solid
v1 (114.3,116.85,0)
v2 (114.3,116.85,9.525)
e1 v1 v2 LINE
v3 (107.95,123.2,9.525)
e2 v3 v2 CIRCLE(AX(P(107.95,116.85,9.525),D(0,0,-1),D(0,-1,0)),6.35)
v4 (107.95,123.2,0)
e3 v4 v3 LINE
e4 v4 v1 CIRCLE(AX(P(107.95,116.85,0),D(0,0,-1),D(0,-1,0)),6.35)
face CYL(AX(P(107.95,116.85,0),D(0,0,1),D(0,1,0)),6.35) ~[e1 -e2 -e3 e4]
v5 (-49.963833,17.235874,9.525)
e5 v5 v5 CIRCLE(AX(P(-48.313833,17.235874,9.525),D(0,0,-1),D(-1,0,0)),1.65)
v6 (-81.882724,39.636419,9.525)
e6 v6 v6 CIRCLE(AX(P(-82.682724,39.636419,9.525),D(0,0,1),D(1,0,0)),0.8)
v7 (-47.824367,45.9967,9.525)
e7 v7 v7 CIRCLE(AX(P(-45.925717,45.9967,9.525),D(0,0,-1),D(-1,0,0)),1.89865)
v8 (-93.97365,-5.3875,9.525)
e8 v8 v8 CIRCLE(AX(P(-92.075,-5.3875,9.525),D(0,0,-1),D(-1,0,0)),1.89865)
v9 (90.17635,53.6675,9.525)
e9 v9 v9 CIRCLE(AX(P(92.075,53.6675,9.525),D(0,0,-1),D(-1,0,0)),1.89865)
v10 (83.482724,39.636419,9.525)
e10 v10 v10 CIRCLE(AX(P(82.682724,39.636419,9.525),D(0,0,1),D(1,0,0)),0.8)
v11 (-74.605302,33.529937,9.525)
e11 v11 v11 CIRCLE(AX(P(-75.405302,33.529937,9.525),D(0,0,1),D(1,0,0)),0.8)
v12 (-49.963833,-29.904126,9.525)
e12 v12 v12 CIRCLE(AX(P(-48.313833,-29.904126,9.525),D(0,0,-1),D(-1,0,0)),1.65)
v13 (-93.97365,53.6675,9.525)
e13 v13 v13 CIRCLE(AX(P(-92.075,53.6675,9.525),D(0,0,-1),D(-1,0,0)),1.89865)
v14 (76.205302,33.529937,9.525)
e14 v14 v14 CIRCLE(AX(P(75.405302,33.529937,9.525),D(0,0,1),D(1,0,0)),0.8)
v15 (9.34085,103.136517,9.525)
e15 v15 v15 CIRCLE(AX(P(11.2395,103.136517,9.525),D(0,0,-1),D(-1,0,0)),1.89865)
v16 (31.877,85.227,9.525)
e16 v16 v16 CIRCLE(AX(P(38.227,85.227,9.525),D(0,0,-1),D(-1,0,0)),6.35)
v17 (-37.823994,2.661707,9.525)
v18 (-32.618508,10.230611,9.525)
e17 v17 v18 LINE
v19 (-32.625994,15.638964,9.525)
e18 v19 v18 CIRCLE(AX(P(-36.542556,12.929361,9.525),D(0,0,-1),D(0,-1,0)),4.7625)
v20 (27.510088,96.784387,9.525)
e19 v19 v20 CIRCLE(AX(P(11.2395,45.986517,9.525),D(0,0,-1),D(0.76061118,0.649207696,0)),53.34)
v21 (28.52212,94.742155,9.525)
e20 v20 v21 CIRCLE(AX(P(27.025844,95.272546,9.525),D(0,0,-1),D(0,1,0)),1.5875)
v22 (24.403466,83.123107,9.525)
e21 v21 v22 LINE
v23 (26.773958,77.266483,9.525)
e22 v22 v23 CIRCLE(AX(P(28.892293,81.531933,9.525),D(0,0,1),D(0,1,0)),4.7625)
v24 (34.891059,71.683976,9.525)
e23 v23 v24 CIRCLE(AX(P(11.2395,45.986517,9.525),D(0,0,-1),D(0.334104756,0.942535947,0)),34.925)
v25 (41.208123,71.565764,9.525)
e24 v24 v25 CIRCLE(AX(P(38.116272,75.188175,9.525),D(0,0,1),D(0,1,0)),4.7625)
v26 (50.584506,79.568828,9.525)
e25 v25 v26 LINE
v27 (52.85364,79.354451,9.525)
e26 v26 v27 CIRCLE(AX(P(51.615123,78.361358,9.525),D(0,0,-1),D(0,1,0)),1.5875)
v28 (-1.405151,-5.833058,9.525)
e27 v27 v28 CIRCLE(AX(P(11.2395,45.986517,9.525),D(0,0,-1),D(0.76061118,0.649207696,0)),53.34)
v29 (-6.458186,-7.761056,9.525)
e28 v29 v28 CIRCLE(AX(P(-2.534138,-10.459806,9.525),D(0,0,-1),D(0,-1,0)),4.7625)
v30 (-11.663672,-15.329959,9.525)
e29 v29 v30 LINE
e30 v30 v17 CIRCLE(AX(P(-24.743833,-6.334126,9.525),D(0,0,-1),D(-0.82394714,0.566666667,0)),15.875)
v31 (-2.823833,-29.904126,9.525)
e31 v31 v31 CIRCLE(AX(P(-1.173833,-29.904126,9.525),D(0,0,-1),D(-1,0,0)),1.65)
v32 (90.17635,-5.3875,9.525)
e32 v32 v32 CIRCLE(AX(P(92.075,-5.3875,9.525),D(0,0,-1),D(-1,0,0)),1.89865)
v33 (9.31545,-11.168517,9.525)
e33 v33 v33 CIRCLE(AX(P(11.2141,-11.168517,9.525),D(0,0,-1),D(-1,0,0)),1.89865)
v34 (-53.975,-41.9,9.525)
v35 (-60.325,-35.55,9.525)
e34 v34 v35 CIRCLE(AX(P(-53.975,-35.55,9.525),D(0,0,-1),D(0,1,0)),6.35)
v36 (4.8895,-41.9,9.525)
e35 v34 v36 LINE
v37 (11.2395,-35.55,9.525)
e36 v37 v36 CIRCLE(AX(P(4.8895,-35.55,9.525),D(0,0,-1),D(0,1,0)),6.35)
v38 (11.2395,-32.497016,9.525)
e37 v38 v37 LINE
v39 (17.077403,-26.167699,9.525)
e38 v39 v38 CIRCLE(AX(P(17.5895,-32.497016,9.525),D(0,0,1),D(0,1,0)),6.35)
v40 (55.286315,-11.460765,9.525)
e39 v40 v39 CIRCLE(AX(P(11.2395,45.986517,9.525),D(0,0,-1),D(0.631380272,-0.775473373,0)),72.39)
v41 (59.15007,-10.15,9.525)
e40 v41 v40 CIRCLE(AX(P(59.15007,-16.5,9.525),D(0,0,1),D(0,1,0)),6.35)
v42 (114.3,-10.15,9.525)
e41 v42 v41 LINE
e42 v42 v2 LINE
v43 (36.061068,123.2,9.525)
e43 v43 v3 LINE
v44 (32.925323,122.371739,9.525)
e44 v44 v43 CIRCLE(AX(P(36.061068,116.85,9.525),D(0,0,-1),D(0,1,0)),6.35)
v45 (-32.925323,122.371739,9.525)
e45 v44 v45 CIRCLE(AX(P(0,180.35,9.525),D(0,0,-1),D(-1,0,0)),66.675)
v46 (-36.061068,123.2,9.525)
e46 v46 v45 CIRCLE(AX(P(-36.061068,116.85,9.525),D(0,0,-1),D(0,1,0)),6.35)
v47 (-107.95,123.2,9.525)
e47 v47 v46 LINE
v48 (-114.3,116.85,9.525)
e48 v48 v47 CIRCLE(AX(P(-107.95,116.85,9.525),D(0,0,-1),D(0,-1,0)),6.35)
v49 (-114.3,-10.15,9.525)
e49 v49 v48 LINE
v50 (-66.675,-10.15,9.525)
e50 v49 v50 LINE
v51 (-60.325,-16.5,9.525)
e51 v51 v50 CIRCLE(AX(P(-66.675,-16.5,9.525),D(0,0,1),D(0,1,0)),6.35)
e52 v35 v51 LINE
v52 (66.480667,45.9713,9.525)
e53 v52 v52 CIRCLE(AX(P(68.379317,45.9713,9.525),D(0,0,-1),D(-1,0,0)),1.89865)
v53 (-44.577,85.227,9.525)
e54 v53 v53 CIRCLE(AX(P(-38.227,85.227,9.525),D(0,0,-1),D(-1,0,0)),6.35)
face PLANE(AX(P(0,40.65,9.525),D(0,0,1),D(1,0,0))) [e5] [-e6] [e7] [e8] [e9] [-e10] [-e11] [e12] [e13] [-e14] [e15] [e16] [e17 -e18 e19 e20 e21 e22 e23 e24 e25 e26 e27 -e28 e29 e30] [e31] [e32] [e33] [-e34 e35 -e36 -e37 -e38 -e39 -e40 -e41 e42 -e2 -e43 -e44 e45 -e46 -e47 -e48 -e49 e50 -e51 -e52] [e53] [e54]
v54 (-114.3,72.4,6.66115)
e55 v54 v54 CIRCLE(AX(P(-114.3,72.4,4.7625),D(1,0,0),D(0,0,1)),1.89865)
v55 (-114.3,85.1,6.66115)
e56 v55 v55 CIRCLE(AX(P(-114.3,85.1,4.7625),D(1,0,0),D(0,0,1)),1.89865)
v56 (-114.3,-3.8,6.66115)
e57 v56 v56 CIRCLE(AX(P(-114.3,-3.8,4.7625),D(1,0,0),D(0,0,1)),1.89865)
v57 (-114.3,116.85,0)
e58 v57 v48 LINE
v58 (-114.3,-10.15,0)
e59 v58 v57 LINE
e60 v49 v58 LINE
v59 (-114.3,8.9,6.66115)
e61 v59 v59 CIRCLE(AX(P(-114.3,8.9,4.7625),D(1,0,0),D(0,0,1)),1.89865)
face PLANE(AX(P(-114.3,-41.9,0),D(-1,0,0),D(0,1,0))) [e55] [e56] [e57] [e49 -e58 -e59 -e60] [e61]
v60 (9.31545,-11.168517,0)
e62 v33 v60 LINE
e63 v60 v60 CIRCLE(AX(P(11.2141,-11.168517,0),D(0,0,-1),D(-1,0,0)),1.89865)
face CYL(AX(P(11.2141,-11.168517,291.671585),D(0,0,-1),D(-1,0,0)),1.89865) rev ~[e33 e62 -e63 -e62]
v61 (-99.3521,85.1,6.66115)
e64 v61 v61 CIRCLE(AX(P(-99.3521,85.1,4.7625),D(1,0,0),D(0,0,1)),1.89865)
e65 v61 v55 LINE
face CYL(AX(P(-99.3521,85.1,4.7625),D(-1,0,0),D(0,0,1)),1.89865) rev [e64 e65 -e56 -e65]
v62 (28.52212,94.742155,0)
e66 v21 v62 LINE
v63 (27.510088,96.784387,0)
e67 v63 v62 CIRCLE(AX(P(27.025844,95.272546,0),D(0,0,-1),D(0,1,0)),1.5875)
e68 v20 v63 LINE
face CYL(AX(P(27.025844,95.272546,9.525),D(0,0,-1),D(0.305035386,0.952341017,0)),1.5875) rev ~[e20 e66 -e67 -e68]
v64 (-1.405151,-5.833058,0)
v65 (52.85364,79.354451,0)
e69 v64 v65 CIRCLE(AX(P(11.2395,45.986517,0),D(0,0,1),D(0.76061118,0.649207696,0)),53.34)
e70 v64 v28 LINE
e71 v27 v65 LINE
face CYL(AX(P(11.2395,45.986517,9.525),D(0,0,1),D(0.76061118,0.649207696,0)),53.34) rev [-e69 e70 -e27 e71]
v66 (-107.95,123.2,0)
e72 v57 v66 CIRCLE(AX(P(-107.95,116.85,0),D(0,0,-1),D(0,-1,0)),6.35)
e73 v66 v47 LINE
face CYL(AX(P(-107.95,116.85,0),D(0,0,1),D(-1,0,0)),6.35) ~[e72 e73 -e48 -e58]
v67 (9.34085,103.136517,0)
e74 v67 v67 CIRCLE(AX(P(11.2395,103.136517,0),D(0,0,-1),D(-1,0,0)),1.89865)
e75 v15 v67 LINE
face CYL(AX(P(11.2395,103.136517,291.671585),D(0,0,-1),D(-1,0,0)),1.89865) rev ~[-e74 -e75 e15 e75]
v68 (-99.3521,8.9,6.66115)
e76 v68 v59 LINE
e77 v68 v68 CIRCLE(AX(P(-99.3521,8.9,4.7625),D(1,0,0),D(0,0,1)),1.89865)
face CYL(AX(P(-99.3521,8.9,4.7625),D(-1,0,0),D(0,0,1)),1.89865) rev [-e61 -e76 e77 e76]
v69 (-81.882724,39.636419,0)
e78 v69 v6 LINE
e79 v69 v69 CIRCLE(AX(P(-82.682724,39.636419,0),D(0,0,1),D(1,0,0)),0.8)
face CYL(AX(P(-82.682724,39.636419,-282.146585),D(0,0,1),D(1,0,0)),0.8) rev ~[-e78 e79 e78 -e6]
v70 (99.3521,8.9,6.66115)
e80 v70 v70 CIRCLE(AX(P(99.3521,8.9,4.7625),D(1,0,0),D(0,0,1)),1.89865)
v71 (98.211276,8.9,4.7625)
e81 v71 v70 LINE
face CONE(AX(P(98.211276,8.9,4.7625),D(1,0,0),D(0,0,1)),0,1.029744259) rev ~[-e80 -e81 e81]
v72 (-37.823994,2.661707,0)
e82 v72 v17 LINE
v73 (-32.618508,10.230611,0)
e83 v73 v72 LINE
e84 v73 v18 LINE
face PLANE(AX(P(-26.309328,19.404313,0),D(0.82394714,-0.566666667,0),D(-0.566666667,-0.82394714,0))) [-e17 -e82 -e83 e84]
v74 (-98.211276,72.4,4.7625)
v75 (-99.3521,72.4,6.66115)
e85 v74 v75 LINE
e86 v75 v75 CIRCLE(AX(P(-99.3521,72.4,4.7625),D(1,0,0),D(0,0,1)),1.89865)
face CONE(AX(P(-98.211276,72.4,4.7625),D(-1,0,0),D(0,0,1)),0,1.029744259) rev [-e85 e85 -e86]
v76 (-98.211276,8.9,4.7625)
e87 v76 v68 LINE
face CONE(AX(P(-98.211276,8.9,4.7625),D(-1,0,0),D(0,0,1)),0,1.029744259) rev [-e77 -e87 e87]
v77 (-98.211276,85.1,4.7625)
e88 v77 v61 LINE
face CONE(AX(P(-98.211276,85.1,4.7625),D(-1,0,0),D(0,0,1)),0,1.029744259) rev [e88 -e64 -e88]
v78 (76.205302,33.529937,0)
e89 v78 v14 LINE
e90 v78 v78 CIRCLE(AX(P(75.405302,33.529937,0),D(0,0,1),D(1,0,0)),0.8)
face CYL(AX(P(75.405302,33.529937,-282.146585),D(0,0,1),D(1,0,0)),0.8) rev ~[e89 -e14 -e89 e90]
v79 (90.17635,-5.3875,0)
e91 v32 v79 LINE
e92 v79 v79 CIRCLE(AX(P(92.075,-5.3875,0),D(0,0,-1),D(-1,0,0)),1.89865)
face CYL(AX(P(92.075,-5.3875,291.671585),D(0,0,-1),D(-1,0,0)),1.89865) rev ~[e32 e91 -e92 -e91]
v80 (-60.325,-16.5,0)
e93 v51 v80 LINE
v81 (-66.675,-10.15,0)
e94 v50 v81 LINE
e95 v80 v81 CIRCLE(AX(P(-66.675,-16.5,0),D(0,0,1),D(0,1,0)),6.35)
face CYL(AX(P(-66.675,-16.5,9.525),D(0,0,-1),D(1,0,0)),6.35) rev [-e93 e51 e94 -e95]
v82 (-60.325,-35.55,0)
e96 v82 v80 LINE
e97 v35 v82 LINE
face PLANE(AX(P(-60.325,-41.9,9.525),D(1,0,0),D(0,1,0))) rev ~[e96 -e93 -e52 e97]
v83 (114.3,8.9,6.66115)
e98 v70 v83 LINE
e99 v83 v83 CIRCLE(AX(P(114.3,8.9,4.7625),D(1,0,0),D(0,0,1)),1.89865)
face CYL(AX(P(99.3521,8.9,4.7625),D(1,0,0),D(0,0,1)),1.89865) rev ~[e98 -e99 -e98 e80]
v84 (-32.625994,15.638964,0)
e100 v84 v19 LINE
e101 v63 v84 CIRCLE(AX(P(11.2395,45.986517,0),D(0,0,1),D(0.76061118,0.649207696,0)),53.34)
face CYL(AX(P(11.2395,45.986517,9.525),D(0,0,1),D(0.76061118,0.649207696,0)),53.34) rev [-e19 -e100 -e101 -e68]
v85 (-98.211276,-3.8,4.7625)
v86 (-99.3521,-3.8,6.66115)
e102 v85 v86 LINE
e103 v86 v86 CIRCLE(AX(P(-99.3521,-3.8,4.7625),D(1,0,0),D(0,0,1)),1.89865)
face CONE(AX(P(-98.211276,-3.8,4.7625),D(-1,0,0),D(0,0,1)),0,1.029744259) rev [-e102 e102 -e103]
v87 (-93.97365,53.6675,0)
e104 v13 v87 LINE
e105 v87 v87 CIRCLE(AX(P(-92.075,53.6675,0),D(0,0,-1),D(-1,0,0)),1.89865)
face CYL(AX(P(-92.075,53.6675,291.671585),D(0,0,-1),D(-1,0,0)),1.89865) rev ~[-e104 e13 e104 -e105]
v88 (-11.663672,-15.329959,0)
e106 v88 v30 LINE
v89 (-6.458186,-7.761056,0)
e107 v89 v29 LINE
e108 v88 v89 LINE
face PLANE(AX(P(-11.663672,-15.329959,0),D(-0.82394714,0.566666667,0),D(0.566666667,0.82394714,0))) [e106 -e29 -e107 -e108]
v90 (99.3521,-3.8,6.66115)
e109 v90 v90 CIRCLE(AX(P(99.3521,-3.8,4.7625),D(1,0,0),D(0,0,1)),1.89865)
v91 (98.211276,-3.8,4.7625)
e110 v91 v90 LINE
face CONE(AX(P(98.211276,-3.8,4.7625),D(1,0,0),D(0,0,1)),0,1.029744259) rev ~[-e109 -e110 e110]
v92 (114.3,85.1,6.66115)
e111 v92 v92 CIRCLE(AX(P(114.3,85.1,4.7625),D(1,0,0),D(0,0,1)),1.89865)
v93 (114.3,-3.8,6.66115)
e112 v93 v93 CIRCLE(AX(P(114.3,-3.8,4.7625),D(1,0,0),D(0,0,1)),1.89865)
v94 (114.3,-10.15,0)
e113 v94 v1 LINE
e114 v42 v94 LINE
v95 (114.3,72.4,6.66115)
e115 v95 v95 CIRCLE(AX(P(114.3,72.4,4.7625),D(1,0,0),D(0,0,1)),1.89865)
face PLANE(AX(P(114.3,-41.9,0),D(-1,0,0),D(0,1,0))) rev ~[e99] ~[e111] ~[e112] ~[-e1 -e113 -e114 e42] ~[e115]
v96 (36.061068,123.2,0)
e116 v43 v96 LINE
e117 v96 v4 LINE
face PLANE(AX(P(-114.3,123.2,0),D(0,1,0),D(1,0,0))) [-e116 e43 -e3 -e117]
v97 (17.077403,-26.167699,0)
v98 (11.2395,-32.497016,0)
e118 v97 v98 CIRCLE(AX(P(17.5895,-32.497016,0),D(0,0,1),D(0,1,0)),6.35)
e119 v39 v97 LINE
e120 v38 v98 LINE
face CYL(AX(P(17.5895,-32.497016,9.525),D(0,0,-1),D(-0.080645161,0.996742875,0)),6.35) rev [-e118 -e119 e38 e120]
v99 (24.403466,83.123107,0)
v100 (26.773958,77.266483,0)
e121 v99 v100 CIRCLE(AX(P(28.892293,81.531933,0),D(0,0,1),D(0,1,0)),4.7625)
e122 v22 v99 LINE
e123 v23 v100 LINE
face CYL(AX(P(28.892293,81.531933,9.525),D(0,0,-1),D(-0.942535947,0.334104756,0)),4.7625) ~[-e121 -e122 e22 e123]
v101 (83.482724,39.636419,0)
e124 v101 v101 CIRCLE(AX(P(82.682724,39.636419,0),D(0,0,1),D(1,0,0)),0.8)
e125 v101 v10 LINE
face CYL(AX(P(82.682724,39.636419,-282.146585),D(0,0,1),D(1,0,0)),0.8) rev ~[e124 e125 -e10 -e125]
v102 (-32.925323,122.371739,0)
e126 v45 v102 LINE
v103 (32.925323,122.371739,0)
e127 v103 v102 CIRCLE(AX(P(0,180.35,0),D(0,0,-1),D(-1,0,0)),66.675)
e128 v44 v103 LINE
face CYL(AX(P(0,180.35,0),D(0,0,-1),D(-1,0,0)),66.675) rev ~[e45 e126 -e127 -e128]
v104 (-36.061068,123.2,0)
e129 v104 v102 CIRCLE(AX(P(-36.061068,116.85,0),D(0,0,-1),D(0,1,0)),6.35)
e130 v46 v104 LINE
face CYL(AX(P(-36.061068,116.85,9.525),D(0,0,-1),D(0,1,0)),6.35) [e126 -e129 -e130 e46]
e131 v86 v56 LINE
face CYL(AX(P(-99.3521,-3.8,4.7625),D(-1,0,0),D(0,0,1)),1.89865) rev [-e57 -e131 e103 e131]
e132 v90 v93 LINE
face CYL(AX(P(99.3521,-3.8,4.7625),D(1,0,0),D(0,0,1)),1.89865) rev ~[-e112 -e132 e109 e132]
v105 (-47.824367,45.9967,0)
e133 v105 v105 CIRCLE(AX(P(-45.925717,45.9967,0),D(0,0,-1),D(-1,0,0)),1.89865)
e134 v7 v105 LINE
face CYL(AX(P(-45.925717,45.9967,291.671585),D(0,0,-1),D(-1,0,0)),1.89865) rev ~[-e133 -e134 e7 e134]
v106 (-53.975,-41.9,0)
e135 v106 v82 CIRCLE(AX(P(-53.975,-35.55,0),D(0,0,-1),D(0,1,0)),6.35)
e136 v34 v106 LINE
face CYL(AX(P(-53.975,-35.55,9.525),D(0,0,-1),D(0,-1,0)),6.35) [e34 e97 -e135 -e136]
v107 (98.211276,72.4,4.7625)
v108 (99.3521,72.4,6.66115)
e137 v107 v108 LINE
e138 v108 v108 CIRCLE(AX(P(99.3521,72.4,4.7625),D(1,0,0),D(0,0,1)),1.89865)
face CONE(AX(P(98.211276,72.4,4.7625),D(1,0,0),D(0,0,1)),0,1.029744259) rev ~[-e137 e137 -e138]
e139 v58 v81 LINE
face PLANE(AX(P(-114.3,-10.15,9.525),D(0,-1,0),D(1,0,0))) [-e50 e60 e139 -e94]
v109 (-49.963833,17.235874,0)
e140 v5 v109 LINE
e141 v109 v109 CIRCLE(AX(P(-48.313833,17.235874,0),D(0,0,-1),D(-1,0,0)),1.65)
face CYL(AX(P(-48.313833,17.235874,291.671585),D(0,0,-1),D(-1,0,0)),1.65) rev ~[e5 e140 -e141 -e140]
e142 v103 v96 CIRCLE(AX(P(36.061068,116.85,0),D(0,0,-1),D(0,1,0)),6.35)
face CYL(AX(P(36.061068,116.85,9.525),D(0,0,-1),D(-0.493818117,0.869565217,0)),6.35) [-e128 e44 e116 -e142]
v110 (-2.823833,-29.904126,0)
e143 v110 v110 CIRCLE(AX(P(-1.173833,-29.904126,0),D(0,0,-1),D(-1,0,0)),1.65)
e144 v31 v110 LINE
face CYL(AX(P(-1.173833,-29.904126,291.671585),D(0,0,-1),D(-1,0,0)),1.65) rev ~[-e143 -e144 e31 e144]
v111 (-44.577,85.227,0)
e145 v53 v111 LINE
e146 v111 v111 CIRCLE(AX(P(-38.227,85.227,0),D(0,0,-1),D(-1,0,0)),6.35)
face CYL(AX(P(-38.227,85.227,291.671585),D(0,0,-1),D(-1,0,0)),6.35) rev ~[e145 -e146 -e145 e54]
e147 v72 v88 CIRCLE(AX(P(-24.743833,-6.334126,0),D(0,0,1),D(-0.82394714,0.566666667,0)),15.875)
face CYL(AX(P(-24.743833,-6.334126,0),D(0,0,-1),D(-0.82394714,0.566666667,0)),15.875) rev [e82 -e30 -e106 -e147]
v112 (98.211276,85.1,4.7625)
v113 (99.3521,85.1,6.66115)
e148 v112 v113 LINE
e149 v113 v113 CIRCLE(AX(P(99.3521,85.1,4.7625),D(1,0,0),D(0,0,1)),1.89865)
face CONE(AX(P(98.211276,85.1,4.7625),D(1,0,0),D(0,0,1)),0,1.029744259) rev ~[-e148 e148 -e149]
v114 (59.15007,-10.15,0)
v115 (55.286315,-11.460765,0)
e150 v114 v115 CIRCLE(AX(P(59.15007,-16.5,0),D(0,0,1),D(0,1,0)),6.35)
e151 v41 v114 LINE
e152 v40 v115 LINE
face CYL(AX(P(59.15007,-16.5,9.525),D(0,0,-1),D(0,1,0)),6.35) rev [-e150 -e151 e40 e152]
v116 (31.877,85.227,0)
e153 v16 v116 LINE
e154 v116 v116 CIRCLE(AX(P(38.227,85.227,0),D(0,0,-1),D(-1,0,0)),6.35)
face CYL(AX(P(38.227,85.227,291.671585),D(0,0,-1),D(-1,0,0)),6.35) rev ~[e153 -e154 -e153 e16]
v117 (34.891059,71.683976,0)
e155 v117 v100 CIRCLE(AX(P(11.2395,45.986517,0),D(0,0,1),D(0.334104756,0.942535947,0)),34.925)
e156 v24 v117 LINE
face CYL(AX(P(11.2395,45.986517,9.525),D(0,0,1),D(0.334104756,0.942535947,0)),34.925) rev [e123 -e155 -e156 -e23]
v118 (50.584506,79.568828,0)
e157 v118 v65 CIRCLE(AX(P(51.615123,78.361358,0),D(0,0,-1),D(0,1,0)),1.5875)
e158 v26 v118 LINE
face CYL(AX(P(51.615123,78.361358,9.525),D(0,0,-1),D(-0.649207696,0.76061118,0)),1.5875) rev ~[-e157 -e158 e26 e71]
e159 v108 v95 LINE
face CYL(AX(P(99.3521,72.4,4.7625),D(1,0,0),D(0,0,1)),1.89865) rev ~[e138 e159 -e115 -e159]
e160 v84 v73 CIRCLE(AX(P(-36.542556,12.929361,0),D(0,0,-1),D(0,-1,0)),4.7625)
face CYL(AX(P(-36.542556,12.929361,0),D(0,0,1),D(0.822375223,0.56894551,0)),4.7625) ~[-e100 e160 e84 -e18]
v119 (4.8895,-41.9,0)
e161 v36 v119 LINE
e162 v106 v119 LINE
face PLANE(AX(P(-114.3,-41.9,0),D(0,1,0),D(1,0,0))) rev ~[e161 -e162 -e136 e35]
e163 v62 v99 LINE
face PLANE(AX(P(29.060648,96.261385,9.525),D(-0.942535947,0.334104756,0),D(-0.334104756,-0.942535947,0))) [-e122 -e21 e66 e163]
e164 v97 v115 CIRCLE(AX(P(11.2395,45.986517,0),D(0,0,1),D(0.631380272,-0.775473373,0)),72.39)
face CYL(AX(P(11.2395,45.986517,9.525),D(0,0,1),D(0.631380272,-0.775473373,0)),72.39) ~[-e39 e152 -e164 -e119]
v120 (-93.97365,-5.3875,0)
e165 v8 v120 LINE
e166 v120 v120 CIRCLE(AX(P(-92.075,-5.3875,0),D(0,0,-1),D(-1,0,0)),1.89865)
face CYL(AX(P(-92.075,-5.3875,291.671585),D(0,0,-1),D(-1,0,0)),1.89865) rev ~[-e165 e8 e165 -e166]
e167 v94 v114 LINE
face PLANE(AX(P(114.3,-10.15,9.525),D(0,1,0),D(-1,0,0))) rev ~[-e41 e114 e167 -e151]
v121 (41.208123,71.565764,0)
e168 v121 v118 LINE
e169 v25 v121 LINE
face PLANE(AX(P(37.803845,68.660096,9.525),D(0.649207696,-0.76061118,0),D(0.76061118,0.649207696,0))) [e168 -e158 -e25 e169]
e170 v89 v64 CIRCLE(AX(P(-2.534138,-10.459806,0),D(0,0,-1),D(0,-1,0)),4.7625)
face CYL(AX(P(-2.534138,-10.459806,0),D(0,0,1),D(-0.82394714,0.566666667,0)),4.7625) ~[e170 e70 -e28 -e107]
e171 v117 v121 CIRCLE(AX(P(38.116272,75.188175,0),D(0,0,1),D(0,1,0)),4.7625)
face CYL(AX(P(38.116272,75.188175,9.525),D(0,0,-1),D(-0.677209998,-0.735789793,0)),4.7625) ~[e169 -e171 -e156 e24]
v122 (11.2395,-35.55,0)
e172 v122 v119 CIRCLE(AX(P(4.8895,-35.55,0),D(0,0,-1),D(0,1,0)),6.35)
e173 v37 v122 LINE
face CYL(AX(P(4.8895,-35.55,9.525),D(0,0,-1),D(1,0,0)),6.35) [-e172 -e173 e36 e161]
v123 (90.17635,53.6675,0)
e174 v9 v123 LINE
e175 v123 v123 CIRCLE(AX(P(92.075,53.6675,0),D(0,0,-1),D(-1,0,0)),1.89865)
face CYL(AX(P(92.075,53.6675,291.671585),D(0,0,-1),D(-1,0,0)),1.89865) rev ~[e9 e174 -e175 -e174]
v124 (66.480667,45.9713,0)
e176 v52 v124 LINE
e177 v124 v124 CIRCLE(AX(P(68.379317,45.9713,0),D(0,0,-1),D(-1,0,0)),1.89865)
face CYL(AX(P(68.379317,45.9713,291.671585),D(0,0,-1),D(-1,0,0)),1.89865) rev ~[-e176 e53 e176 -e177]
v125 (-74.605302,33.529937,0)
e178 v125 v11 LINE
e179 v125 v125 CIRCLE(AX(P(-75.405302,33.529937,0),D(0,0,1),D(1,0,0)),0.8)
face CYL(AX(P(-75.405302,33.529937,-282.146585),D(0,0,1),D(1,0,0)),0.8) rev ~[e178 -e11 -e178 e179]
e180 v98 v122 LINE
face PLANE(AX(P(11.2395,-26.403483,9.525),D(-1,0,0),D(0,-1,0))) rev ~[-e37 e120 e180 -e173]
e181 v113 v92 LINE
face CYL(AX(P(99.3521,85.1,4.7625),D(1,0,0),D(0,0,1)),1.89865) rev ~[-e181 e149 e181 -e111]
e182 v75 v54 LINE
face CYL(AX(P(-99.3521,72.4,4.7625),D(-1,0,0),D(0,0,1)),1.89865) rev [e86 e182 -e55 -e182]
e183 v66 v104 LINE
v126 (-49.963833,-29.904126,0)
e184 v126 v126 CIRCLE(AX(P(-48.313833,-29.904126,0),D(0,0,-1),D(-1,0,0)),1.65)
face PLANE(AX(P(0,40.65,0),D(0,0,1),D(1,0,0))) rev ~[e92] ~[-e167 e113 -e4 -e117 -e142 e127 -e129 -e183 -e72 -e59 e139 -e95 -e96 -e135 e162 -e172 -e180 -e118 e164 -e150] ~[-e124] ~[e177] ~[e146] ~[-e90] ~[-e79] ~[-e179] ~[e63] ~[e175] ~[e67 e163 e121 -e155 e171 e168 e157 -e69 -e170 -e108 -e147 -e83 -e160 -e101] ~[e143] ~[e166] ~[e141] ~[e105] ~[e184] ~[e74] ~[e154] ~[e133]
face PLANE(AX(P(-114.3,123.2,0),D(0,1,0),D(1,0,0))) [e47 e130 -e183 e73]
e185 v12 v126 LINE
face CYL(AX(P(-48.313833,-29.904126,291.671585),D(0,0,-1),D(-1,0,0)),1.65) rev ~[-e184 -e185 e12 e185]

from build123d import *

# Parameters (mm, degrees)
SKETCH2_W                       = 228.6
SKETCH2_H                       = 165.1
BOSS_EXTRUDE1_DEPTH             = 9.525
F_1_2_0_5_DIAMETER_HOLE1_D      = 12.7
CUT_EXTRUDE2_DEPTH              = 169.325445566
CUT_EXTRUDE3_DEPTH              = 169.325445566
SKETCH7_R                       = 66.675
CUT_EXTRUDE4_DEPTH              = 169.325445566
SKETCH8_W                       = 53.975
SKETCH8_H                       = 31.75
CUT_EXTRUDE5_DEPTH              = 169.325445566
FILLET1_R                       = 4.7625
FILLET5_R                       = 6.35
F_10_24_TAPPED_HOLE1_AT_2_COUNT = 2
F_10_24_TAPPED_HOLE1_AT_2_PITCH = 12.7
F_10_24_TAPPED_HOLE1_AT_3_COUNT = 2
F_10_24_TAPPED_HOLE1_AT_3_PITCH = 76.2
F_10_24_TAPPED_HOLE1_AT_4_COUNT = 2
F_10_24_TAPPED_HOLE1_AT_4_PITCH = 88.9
FILLET6_R                       = 1.5875
M2X0_4_TAPPED_HOLE1_D           = 1.6
M4X0_7_TAPPED_HOLE1_D           = 3.3
F_10_24_TAPPED_HOLE2_D          = 3.7973


with BuildPart() as part:
    # Sketch2 → Boss-Extrude1 (new body)
    with BuildSketch(Plane.XY):
        with Locations((0, 40.65)):
            Rectangle(SKETCH2_W, SKETCH2_H)
    extrude(amount=BOSS_EXTRUDE1_DEPTH)

    # 1/2 (0.5) Diameter Hole1 (through all)
    with Locations(Plane.XY.offset(9.525)):
        with Locations((-38.227, 85.227), (38.227, 85.227)):
            Hole(F_1_2_0_5_DIAMETER_HOLE1_D / 2)

    # Sketch5 → Cut-Extrude2 (cut, through all)
    with BuildSketch(Plane.XY.offset(9.525)):
        with BuildLine():
            Line((29.060647703, 96.2613849), (22.908108615, 78.904585432))
            ThreePointArc((22.908108615, 78.904585432), (31.030333333, 74.762871327), (37.803845466, 68.660096262))
            Line((37.803845466, 68.660096262), (51.810500348, 80.615255985))
            ThreePointArc((51.810500348, 80.615255985), (-18.9865, 2.037177048), (29.060647703, 96.2613849))
        make_face()
    extrude(amount=-CUT_EXTRUDE2_DEPTH, mode=Mode.SUBTRACT)

    # Sketch6 → Cut-Extrude3 (cut, through all)
    with BuildSketch(Plane(origin=(0, 0, 0), x_dir=(-1, 0, 0), z_dir=(0, 0, -1))):
        with BuildLine():
            Line((26.309327508, 19.40431332), (37.823994175, 2.661707443))
            ThreePointArc((37.823994175, 2.661707443), (33.739666667, -19.414286732), (11.663672492, -15.329959224))
            Line((11.663672492, -15.329959224), (0.149005825, 1.412646653))
            ThreePointArc((0.149005825, 1.412646653), (4.233333333, 23.488640828), (26.309327508, 19.40431332))
        make_face()
    extrude(amount=-CUT_EXTRUDE3_DEPTH, mode=Mode.SUBTRACT)

    # Sketch7 → Cut-Extrude4 (cut, through all)
    with BuildSketch(Plane(origin=(0, 0, 0), x_dir=(-1, 0, 0), z_dir=(0, 0, -1))):
        with Locations((0, 180.35)):
            Circle(SKETCH7_R)
    extrude(amount=-CUT_EXTRUDE4_DEPTH, mode=Mode.SUBTRACT)

    # Sketch8 → Cut-Extrude5 (cut, through all)
    with BuildSketch(Plane.XY.offset(9.525)):
        with BuildLine():
            Line((114.3, -41.9), (114.3, -10.15))
            Line((114.3, -10.15), (56.945117879, -10.15))
            ThreePointArc((56.945117879, -10.15), (35.494289217, -22.219180967), (11.2395, -26.403482524))
            Line((11.2395, -26.403482524), (11.2395, -41.9))
            Line((11.2395, -41.9), (114.3, -41.9))
        make_face()
        with Locations((-87.3125, -26.025)):
            Rectangle(SKETCH8_W, SKETCH8_H)
    extrude(amount=-CUT_EXTRUDE5_DEPTH, mode=Mode.SUBTRACT)

    # Fillet1
    fillet1_edges = [part.edges().sort_by_distance(p)[0] for p in [
        (22.908108615, 78.904585432, 4.7625),
        (37.803845466, 68.660096262, 4.7625),
        (-4.536639314, -4.967079339, 4.7625),
        (-30.696960997, 13.024587328, 4.7625),
    ]]
    fillet(fillet1_edges, radius=FILLET1_R)

    # Fillet5
    fillet5_edges = [part.edges().sort_by_distance(p)[0] for p in [
        (-34.342875899, 123.2, 4.7625),
        (34.342875899, 123.2, 4.7625),
        (-114.3, 123.2, 4.7625),
        (114.3, 123.2, 4.7625),
        (11.2395, -41.9, 4.7625),
        (11.2395, -26.403482524, 4.7625),
        (56.945117879, -10.15, 4.7625),
        (-60.325, -10.15, 4.7625),
        (-60.325, -41.9, 4.7625),
    ]]
    fillet(fillet5_edges, radius=FILLET5_R)

    # Sketch16 → #10-24 Tapped Hole1 (revolve, cut)
    with BuildSketch(Plane(origin=(-114.3, 85.1, 4.7625), x_dir=(0, 0, 1), z_dir=(0, 1, 0))):
        Polygon((0, 0), (0, 16.088724014), (1.89865, 14.9479), (1.89865, 0), align=None)
    f_10_24_tapped_hole1 = revolve(axis=Axis((-120.65, 85.1, 4.7625), (1, 0, 0)), mode=Mode.SUBTRACT)

    # #10-24 Tapped Hole1 at 2: #10-24 Tapped Hole1 ×2
    with Locations(*[(0, -i * F_10_24_TAPPED_HOLE1_AT_2_PITCH, 0) for i in range(1, F_10_24_TAPPED_HOLE1_AT_2_COUNT)]):
        add(f_10_24_tapped_hole1, mode=Mode.SUBTRACT)

    # #10-24 Tapped Hole1 at 3: #10-24 Tapped Hole1 ×2
    with Locations(*[(0, -i * F_10_24_TAPPED_HOLE1_AT_3_PITCH, 0) for i in range(1, F_10_24_TAPPED_HOLE1_AT_3_COUNT)]):
        add(f_10_24_tapped_hole1, mode=Mode.SUBTRACT)

    # #10-24 Tapped Hole1 at 4: #10-24 Tapped Hole1 ×2
    with Locations(*[(0, -i * F_10_24_TAPPED_HOLE1_AT_4_PITCH, 0) for i in range(1, F_10_24_TAPPED_HOLE1_AT_4_COUNT)]):
        add(f_10_24_tapped_hole1, mode=Mode.SUBTRACT)

    # Mirror2: #10-24 Tapped Hole1 across plane
    add(f_10_24_tapped_hole1.mirror(Plane(origin=(0, 0, 0), x_dir=(0, 0, 1), z_dir=(1, 0, 0))), mode=Mode.SUBTRACT)

    # Mirror2 copy 1 sketch → Mirror2 copy 1 (revolve, cut)
    with BuildSketch(Plane(origin=(114.3, 72.4, 4.7625), x_dir=(0, 0, 1), z_dir=(0, 1, 0))):
        Polygon((0, 0), (0, -16.088724014), (1.89865, -14.9479), (1.89865, 0), align=None)
    revolve(axis=Axis((120.65, 72.4, 4.7625), (1, 0, 0)), mode=Mode.SUBTRACT)

    # Mirror2 copy 2 sketch → Mirror2 copy 2 (revolve, cut)
    with BuildSketch(Plane(origin=(114.3, 8.9, 4.7625), x_dir=(0, 0, 1), z_dir=(0, 1, 0))):
        Polygon((0, 0), (0, -16.088724014), (1.89865, -14.9479), (1.89865, 0), align=None)
    revolve(axis=Axis((120.65, 8.9, 4.7625), (1, 0, 0)), mode=Mode.SUBTRACT)

    # Mirror2 copy 3 sketch → Mirror2 copy 3 (revolve, cut)
    with BuildSketch(Plane(origin=(114.3, -3.8, 4.7625), x_dir=(0, 0, 1), z_dir=(0, 1, 0))):
        Polygon((0, 0), (0, -16.088724014), (1.89865, -14.9479), (1.89865, 0), align=None)
    revolve(axis=Axis((120.65, -3.8, 4.7625), (1, 0, 0)), mode=Mode.SUBTRACT)

    # Fillet6
    fillet6_edges = [part.edges().sort_by_distance(p)[0] for p in [
        (51.810500348, 80.615255985, 4.7625),
        (29.060647703, 96.2613849, 4.7625),
    ]]
    fillet(fillet6_edges, radius=FILLET6_R)

    # M2x0.4 Tapped Hole1 (through all)
    with Locations(Plane(origin=(0, 0, 0), x_dir=(-1, 0, 0), z_dir=(0, 0, -1))):
        with Locations((-75.40530211, 33.529936716), (-82.68272432, 39.636419008), (75.40530211, 33.529936716), (82.68272432, 39.636419008)):
            Hole(M2X0_4_TAPPED_HOLE1_D / 2)

    # M4x0.7 Tapped Hole1 (through all)
    with Locations(Plane.XY.offset(9.525)):
        with Locations((-48.313833333, 17.23587411), (-48.313833333, -29.90412589), (-1.173833333, -29.90412589)):
            Hole(M4X0_7_TAPPED_HOLE1_D / 2)

    # #10-24 Tapped Hole2 (through all)
    with Locations(Plane.XY.offset(9.525)):
        with Locations((-45.925717476, 45.9967), (11.2395, 103.136517476), (68.379317476, 45.9713), (11.2141, -11.168517476), (92.075, 53.6675), (92.075, -5.3875), (-92.075, -5.3875), (-92.075, 53.6675)):
            Hole(F_10_24_TAPPED_HOLE2_D / 2)


solid = part.part
